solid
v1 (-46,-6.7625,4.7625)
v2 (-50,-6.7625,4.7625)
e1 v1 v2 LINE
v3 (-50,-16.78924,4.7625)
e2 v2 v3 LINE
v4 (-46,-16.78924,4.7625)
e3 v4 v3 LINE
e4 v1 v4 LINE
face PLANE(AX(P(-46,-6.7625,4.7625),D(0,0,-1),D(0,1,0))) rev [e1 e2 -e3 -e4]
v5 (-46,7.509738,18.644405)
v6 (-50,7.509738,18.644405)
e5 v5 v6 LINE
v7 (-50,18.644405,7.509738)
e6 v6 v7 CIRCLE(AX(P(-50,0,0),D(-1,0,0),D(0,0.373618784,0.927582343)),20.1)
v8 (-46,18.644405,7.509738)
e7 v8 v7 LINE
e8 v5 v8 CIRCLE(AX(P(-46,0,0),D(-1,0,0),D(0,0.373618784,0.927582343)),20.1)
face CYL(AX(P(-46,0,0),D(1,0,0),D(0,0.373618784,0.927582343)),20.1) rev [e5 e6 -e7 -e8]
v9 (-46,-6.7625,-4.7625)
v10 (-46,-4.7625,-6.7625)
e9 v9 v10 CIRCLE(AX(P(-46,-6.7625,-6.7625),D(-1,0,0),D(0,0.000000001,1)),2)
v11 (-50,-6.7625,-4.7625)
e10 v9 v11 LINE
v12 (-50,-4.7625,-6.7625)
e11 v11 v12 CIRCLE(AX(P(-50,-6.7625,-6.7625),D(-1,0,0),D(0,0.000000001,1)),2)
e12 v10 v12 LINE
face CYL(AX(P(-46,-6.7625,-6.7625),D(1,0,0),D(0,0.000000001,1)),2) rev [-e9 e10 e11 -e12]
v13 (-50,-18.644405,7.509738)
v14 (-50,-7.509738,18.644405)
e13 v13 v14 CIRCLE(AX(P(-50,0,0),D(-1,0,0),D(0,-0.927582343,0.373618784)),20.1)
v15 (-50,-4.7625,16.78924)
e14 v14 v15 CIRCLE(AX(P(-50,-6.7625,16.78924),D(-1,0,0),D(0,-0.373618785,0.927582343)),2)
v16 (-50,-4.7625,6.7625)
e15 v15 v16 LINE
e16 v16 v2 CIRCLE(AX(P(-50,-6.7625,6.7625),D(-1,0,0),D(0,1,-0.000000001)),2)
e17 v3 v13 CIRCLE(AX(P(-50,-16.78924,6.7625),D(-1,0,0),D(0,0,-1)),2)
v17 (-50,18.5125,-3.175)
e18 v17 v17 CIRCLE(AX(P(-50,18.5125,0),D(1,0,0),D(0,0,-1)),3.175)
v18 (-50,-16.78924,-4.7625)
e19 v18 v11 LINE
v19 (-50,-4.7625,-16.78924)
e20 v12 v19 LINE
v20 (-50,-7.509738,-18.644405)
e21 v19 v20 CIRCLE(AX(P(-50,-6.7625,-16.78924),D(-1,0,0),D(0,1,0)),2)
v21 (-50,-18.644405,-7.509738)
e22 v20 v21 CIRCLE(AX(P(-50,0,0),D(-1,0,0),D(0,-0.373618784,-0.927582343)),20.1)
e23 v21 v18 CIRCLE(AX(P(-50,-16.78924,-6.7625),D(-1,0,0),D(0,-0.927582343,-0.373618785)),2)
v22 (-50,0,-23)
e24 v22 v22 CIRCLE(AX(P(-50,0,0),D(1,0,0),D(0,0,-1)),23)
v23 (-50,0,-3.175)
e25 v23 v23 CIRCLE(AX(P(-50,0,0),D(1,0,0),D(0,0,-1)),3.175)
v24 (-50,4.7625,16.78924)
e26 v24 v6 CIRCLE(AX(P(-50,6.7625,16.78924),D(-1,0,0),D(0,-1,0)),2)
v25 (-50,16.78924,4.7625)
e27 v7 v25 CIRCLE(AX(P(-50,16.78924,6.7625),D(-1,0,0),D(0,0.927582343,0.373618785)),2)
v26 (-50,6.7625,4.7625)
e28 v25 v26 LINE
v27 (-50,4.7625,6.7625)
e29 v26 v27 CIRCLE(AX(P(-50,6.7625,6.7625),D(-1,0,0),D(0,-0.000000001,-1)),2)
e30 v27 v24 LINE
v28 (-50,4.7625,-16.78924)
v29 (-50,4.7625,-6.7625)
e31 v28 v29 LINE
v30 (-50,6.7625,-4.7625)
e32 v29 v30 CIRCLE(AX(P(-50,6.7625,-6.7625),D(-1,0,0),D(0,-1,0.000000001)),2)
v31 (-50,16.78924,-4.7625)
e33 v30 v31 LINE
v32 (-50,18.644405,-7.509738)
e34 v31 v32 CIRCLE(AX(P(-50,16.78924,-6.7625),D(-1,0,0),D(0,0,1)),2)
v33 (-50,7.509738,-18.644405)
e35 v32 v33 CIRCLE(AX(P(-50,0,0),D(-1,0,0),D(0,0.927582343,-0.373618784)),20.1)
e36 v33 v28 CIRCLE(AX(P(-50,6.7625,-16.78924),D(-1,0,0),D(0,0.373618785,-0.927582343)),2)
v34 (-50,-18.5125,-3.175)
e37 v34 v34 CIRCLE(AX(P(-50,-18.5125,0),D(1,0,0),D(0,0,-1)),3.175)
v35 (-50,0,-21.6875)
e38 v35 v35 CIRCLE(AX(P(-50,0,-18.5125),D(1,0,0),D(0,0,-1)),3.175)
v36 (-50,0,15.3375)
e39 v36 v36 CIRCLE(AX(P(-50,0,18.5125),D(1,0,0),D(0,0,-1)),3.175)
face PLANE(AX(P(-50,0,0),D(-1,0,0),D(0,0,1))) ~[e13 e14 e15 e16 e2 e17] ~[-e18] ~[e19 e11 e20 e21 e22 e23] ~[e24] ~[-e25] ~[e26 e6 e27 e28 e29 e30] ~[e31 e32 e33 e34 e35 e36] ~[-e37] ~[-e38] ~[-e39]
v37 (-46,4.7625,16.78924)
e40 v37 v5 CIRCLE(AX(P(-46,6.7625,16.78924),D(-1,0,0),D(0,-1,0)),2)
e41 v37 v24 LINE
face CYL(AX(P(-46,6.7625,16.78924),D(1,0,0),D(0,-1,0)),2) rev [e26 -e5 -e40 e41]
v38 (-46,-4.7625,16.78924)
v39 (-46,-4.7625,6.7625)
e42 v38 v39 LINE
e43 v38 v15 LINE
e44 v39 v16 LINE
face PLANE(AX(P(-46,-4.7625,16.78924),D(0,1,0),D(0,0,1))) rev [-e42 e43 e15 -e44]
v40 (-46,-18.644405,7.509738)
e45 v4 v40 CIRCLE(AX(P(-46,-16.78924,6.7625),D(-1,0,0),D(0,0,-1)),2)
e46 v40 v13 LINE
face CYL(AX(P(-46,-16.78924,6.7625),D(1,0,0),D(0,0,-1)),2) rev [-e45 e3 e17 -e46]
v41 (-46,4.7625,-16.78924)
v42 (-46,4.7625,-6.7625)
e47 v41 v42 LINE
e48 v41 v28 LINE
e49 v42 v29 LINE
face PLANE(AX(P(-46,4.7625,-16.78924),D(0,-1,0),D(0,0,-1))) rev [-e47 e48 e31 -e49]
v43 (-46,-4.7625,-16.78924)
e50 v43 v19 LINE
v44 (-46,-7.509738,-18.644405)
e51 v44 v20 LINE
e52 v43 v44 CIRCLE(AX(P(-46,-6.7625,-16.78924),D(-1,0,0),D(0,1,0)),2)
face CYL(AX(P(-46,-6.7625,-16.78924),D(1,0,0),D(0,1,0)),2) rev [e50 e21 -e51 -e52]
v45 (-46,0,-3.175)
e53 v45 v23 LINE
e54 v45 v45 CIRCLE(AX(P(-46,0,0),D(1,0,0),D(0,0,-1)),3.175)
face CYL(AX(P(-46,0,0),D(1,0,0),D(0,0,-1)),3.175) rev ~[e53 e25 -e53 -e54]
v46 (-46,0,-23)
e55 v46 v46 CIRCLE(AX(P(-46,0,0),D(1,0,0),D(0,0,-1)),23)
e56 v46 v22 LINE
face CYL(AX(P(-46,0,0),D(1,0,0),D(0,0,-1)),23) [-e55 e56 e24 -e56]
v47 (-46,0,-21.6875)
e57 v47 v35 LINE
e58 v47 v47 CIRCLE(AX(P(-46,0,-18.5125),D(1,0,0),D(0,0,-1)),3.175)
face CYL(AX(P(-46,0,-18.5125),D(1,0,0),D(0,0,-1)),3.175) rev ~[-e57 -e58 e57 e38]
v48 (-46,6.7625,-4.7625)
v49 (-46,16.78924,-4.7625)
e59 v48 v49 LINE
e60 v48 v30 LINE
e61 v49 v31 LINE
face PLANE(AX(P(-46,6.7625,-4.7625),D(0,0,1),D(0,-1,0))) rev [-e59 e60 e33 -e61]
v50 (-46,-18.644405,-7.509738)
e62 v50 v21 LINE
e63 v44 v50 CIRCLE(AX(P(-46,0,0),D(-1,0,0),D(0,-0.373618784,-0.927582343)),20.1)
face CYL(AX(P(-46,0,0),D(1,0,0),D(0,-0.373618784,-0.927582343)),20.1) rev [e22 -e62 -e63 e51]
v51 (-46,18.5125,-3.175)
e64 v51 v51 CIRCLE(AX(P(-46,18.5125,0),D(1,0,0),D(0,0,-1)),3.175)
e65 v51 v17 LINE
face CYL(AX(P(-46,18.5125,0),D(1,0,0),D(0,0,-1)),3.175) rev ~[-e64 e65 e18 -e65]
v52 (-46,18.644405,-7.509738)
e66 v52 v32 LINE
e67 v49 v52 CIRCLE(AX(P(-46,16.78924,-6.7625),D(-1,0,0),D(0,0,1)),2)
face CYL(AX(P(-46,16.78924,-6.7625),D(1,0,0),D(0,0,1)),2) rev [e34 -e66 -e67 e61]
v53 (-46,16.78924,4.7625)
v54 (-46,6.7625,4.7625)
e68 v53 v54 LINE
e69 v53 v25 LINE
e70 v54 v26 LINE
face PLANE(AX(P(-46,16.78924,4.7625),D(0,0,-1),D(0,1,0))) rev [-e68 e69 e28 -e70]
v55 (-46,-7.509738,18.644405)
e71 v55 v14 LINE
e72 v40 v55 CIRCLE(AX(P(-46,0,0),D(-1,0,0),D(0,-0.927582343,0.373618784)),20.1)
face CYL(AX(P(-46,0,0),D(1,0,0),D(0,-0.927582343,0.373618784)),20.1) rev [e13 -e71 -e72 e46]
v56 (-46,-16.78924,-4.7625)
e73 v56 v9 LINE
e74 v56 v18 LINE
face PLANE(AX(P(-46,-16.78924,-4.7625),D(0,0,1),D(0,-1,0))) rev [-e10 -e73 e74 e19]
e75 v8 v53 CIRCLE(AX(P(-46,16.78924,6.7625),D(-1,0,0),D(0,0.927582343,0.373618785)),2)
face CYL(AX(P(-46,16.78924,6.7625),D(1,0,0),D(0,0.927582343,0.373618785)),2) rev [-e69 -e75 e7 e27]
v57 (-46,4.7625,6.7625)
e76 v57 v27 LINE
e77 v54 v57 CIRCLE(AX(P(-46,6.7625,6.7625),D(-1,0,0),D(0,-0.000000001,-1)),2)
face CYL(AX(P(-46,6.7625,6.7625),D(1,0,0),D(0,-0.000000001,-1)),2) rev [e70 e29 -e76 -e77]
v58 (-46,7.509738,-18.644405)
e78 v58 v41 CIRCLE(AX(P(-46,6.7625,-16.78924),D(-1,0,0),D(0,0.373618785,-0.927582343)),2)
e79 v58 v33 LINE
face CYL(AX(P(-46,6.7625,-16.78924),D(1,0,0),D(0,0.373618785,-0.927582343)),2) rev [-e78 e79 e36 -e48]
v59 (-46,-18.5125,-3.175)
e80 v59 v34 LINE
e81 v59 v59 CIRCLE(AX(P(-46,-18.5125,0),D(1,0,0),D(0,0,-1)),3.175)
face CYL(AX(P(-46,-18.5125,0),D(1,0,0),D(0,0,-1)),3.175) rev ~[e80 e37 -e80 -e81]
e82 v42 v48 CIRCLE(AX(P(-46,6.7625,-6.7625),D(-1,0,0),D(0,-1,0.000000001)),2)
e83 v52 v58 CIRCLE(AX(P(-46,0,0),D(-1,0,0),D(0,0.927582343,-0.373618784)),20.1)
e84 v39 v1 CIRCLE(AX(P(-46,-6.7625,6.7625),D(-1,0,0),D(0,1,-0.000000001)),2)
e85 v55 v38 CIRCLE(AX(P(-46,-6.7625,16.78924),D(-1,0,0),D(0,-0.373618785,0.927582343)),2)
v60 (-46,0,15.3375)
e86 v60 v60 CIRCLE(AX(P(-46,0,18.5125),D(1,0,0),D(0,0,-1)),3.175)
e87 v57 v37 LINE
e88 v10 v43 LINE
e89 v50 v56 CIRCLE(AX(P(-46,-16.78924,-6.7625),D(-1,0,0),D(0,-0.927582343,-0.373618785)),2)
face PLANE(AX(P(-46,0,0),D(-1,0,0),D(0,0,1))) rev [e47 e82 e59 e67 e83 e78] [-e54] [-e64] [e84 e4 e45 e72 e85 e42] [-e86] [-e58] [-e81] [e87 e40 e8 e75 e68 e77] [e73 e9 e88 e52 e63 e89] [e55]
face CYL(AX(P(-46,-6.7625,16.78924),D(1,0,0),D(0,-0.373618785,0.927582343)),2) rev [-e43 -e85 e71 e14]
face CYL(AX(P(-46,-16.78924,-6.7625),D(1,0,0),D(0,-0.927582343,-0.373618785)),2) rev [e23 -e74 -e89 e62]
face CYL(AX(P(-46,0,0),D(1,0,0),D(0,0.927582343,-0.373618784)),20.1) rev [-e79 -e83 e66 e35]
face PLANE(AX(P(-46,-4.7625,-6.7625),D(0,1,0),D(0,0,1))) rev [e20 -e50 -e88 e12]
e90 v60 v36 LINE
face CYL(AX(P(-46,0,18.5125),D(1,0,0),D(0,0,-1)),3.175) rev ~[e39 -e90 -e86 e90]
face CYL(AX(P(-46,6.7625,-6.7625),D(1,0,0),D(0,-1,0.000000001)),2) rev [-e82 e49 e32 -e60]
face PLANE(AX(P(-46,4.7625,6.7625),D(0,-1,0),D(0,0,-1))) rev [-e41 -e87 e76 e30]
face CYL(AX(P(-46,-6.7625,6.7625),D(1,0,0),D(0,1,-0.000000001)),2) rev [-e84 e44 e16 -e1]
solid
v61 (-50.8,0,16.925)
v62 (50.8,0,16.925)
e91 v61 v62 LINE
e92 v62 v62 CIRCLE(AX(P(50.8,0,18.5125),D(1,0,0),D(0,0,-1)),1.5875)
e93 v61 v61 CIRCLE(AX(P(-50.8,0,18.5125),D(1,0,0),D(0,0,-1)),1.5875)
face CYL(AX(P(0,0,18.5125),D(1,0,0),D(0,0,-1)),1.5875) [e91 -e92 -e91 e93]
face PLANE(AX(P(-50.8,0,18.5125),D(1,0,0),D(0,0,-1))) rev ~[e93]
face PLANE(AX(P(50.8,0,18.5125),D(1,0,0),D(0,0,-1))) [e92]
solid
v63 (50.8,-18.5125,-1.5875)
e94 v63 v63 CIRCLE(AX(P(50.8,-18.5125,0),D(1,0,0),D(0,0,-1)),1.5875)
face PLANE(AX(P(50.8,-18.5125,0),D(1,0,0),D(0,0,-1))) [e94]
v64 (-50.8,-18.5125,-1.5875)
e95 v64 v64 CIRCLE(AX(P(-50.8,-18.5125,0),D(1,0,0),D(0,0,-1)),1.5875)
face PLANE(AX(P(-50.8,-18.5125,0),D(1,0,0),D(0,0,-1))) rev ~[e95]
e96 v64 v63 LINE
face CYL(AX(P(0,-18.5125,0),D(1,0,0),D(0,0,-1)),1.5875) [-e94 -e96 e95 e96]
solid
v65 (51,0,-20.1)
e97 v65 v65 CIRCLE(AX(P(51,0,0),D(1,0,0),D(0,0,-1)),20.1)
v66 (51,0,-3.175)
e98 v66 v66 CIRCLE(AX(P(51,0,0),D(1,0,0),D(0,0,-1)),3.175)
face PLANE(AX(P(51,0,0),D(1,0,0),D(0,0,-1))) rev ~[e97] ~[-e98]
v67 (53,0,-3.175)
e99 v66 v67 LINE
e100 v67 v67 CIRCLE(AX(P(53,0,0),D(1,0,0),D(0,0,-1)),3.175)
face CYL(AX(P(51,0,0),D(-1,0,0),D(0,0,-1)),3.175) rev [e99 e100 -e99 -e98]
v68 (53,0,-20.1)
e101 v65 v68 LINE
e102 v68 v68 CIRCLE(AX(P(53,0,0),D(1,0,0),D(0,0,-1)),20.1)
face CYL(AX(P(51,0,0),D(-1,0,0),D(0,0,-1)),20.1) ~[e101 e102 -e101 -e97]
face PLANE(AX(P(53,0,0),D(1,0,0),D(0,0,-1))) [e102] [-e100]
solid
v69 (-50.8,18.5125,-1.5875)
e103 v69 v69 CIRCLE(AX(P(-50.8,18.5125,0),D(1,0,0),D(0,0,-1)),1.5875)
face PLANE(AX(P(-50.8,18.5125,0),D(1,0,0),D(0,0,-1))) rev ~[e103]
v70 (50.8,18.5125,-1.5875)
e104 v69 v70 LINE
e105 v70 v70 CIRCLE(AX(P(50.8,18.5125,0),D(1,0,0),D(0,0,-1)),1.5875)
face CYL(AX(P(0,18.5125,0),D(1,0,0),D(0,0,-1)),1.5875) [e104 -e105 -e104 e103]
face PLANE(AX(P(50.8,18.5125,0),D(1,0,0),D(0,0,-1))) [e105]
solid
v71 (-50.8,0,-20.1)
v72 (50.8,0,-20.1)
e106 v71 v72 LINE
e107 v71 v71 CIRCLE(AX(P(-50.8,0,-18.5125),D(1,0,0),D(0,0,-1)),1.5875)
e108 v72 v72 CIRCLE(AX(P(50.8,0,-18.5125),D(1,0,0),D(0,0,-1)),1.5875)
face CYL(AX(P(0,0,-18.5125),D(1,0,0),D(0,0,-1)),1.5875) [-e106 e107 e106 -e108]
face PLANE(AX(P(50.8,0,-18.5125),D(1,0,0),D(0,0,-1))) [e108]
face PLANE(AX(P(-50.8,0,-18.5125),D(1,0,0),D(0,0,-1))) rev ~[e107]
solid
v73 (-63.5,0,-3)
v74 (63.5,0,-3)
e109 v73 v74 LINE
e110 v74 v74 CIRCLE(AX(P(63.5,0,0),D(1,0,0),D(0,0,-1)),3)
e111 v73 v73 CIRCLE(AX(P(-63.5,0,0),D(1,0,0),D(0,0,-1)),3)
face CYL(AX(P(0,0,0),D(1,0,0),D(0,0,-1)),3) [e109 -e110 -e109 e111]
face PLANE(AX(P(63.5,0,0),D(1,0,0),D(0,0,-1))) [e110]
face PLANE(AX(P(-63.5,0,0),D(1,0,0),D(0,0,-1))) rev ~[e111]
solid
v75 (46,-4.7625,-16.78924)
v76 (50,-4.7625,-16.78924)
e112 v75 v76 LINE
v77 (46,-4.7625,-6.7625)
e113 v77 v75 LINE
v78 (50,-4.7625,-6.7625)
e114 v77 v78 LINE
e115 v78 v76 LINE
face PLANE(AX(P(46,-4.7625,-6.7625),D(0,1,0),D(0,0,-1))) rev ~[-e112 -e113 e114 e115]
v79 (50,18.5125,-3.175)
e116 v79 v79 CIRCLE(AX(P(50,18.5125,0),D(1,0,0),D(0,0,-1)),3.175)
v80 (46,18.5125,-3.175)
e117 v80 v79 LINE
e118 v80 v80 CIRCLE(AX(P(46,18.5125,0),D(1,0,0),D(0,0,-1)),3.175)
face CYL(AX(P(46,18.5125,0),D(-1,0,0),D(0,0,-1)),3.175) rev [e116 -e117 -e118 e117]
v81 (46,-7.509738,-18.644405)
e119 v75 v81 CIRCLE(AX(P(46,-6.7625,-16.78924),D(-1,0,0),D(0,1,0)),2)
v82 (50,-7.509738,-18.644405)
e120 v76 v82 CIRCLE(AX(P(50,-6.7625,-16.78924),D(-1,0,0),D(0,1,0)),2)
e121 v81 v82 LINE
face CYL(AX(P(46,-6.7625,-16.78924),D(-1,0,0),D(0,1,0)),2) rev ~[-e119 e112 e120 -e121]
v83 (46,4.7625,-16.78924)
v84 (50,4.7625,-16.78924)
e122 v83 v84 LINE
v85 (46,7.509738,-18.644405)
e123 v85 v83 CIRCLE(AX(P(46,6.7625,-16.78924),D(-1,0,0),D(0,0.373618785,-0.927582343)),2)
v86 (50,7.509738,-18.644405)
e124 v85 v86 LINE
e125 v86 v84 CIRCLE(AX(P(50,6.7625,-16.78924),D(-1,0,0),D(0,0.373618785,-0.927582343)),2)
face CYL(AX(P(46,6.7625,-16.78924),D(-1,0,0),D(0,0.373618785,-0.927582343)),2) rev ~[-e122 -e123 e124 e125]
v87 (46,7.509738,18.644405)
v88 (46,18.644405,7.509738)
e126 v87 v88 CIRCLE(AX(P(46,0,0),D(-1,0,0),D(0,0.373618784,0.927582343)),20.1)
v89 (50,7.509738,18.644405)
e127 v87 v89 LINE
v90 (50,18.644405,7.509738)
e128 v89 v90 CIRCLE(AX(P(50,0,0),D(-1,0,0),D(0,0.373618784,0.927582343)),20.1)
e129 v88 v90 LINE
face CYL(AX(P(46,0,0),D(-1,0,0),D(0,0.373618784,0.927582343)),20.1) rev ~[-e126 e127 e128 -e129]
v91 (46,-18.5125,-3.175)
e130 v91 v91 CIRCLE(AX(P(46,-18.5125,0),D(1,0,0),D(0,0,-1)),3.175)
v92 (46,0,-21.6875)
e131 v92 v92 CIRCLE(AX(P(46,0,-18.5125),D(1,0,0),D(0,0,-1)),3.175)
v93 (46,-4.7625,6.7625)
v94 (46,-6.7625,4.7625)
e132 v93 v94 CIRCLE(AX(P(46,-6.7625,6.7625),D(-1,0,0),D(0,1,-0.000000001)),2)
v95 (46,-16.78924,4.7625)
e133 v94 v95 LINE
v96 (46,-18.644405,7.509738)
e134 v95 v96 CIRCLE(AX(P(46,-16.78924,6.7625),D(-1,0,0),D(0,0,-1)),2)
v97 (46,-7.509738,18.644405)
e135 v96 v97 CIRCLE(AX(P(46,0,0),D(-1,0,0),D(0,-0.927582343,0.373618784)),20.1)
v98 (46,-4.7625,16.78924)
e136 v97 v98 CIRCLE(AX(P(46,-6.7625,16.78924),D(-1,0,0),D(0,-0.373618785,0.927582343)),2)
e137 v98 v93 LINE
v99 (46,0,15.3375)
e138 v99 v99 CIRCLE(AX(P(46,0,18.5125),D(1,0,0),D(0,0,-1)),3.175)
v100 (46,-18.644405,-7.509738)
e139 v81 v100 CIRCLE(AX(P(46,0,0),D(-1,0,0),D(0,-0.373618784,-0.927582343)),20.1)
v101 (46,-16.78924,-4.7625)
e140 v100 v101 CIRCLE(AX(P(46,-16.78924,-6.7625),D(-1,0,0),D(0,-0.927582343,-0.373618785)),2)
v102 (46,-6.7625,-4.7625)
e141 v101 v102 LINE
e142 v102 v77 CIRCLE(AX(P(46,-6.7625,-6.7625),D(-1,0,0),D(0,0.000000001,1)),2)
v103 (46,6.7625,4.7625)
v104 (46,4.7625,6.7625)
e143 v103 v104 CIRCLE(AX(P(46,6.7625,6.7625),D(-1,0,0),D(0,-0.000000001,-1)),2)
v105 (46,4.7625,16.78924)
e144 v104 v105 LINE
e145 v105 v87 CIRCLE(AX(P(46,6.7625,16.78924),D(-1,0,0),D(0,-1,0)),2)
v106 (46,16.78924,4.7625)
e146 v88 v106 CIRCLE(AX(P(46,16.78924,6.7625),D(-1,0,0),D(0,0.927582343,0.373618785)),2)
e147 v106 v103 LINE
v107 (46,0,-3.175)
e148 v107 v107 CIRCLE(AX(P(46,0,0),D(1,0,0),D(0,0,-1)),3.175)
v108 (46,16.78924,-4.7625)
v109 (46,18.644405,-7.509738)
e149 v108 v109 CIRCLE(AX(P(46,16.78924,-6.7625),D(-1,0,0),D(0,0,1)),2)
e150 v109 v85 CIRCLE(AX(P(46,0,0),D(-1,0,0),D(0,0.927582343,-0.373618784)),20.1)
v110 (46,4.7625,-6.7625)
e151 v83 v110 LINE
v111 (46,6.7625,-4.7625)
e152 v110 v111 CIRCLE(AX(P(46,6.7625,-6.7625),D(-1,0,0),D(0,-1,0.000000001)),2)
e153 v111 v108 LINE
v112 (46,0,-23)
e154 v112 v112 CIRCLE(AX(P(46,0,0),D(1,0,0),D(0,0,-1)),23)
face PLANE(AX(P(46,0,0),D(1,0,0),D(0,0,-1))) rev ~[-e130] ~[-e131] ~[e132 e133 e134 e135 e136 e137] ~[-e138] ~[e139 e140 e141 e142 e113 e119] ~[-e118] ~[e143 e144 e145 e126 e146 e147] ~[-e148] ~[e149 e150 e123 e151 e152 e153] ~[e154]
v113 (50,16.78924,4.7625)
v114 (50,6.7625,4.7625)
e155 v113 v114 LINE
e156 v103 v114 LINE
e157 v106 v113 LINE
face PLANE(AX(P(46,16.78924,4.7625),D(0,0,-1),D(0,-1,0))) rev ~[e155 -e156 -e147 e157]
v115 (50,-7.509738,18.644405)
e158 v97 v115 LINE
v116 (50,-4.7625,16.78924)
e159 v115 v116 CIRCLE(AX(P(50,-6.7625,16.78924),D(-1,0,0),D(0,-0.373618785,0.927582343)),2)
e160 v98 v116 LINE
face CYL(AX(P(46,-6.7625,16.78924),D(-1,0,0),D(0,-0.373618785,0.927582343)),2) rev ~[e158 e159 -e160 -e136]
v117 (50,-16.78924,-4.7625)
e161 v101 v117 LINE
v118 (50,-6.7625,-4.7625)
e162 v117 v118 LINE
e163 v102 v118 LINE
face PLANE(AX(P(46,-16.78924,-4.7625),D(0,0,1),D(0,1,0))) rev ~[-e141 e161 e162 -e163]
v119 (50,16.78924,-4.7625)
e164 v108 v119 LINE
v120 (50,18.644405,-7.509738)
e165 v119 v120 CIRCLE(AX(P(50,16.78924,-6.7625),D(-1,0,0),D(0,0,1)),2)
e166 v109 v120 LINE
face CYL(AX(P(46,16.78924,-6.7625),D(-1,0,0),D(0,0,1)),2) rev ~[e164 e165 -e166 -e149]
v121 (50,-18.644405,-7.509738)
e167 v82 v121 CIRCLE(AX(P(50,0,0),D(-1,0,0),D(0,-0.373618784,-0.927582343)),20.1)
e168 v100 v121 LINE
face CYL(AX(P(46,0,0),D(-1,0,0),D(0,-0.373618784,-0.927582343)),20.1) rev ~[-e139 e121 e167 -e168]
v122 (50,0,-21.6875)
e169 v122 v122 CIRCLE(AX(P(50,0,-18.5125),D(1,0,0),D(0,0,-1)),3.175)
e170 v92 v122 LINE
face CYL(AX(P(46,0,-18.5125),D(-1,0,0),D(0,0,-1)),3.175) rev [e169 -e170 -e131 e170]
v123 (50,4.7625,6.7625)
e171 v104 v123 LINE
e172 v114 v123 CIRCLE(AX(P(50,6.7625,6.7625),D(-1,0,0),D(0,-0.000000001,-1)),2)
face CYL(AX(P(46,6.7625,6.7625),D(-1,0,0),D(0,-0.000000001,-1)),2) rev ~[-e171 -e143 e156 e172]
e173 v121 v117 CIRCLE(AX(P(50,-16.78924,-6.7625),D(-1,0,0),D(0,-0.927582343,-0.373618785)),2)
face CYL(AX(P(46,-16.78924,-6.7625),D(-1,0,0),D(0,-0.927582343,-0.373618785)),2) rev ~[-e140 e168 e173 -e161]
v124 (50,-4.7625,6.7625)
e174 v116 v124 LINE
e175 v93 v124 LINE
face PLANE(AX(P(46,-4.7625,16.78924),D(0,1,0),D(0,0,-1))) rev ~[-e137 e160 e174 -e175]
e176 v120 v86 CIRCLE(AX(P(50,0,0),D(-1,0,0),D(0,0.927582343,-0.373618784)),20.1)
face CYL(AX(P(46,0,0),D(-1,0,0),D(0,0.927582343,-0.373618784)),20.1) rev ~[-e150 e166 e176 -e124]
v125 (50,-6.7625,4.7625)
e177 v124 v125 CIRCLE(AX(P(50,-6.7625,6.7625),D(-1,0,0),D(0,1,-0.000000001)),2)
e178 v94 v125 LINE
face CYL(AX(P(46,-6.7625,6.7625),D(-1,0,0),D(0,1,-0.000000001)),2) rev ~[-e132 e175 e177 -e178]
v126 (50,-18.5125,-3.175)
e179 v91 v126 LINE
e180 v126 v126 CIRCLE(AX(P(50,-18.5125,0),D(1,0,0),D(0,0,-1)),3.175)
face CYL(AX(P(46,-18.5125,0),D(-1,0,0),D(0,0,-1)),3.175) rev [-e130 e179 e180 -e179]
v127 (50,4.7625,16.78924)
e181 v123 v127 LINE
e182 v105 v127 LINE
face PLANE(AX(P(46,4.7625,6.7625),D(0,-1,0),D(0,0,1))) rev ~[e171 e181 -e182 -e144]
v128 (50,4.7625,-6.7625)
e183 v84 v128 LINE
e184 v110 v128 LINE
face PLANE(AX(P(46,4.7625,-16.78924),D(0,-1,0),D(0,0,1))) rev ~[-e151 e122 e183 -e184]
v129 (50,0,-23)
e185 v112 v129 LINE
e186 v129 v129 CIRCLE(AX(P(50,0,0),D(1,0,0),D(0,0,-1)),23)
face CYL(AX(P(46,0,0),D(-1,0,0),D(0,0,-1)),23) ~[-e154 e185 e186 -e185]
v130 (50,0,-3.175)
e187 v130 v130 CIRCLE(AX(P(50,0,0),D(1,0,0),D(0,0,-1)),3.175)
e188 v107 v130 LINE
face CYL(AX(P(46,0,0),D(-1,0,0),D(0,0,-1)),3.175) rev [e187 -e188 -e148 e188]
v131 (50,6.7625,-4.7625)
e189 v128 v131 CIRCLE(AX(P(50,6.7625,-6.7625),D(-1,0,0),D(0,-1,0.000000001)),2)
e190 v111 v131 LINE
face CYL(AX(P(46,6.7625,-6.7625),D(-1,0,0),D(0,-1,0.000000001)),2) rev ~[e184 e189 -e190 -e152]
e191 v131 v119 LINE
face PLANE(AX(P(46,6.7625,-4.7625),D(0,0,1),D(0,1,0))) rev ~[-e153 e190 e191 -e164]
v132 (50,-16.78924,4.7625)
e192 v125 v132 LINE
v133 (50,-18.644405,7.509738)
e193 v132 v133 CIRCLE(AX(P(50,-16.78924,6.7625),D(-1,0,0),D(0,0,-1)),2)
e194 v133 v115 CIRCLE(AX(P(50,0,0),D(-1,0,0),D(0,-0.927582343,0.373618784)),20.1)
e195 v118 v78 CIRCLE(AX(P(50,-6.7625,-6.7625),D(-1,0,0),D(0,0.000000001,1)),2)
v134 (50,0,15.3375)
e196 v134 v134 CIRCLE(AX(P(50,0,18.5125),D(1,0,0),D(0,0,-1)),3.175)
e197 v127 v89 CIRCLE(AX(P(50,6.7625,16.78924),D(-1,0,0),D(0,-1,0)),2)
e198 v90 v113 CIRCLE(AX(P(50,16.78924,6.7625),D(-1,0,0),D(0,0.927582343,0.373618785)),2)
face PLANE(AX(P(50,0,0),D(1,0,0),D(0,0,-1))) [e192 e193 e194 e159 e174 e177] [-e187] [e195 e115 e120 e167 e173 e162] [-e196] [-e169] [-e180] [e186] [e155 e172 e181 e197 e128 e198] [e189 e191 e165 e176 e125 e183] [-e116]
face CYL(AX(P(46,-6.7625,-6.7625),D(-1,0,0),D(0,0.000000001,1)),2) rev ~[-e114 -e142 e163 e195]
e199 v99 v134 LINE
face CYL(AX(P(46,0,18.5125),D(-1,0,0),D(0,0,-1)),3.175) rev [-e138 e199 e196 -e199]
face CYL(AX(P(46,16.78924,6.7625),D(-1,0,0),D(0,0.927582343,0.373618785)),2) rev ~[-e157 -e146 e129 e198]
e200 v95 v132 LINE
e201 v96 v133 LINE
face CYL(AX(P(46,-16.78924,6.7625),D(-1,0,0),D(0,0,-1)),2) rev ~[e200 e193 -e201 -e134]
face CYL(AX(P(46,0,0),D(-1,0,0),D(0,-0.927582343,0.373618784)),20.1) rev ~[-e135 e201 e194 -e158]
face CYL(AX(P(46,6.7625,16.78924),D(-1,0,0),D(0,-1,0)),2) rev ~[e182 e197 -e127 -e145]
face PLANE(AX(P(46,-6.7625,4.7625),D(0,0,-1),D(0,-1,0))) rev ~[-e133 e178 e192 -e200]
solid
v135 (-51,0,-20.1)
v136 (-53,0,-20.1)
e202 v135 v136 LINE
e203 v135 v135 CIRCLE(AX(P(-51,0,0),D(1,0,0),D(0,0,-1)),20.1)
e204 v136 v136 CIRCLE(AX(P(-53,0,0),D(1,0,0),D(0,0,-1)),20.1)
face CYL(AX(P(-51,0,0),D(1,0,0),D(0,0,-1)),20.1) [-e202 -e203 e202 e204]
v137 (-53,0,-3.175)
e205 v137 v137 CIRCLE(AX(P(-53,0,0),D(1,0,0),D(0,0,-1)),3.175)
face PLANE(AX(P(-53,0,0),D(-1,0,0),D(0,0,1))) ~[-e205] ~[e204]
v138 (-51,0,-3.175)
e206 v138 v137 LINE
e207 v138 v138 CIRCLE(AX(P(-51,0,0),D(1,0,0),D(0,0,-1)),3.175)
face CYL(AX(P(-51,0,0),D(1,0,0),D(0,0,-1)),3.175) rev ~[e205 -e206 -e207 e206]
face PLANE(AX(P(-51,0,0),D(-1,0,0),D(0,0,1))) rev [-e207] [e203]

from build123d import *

# Parameters (mm, degrees)
SKETCH1_R             = 3
BOSS_EXTRUDE1_DEPTH   = 63.5
SKETCH2_R             = 23
SKETCH2_R_2           = 3.175
BOSS_EXTRUDE2_DEPTH   = 4
SKETCH3_R             = 20.1
SKETCH3_R_2           = 3.175
BOSS_EXTRUDE3_DEPTH   = 2
SKETCH4_R             = 1.5875
BOSS_EXTRUDE4_DEPTH   = 50.8
BOSS_EXTRUDE4_2_DEPTH = 50.8
BOSS_EXTRUDE4_3_DEPTH = 50.8
BOSS_EXTRUDE4_4_DEPTH = 50.8


with BuildPart() as part:
    # Sketch1 → Boss-Extrude1 (new, symmetric)
    with BuildSketch(Plane(origin=(0, 0, 0), x_dir=(0, 0, -1), z_dir=(1, 0, 0))):
        Circle(SKETCH1_R)
    extrude(amount=BOSS_EXTRUDE1_DEPTH, both=True)


with BuildPart() as body_2:
    # Sketch2 → Boss-Extrude2 (new body)
    with BuildSketch(Plane(origin=(46, 0, 0), x_dir=(0, 0, -1), z_dir=(1, 0, 0))):
        Circle(SKETCH2_R)
        Circle(SKETCH2_R_2, mode=Mode.SUBTRACT)
        with Locations((0, 18.5125)):
            Circle(SKETCH2_R_2, mode=Mode.SUBTRACT)
        with Locations((-18.5125, 0)):
            Circle(SKETCH2_R_2, mode=Mode.SUBTRACT)
        with Locations((0, -18.5125)):
            Circle(SKETCH2_R_2, mode=Mode.SUBTRACT)
        with Locations((18.5125, 0)):
            Circle(SKETCH2_R_2, mode=Mode.SUBTRACT)
        with BuildLine():
            Line((4.7625, 6.7625), (4.7625, 16.789240416))
            ThreePointArc((4.7625, 16.789240416), (5.643231296, 18.446719698), (7.509737569, 18.644405103))
            ThreePointArc((7.509737569, 18.644405103), (14.212846302, 14.212846302), (18.644405103, 7.509737569))
            ThreePointArc((18.644405103, 7.509737569), (18.446719698, 5.643231296), (16.789240416, 4.7625))
            Line((16.789240416, 4.7625), (6.7625, 4.7625))
            ThreePointArc((6.7625, 4.7625), (5.348286438, 5.348286438), (4.7625, 6.7625))
        make_face(mode=Mode.SUBTRACT)
        with BuildLine():
            Line((6.7625, -4.7625), (16.789240416, -4.7625))
            ThreePointArc((16.789240416, -4.7625), (18.446719698, -5.643231296), (18.644405103, -7.509737569))
            ThreePointArc((18.644405103, -7.509737569), (14.212846302, -14.212846302), (7.509737569, -18.644405103))
            ThreePointArc((7.509737569, -18.644405103), (5.643231296, -18.446719698), (4.7625, -16.789240416))
            Line((4.7625, -16.789240416), (4.7625, -6.7625))
            ThreePointArc((4.7625, -6.7625), (5.348286438, -5.348286438), (6.7625, -4.7625))
        make_face(mode=Mode.SUBTRACT)
        with BuildLine():
            Line((-4.7625, -6.7625), (-4.7625, -16.789240416))
            ThreePointArc((-4.7625, -16.789240416), (-5.643231296, -18.446719698), (-7.509737569, -18.644405103))
            ThreePointArc((-7.509737569, -18.644405103), (-14.212846302, -14.212846302), (-18.644405103, -7.509737569))
            ThreePointArc((-18.644405103, -7.509737569), (-18.446719698, -5.643231296), (-16.789240416, -4.7625))
            Line((-16.789240416, -4.7625), (-6.7625, -4.7625))
            ThreePointArc((-6.7625, -4.7625), (-5.348286438, -5.348286438), (-4.7625, -6.7625))
        make_face(mode=Mode.SUBTRACT)
        with BuildLine():
            Line((-6.7625, 4.7625), (-16.789240416, 4.7625))
            ThreePointArc((-16.789240416, 4.7625), (-18.446719698, 5.643231296), (-18.644405103, 7.509737569))
            ThreePointArc((-18.644405103, 7.509737569), (-14.212846302, 14.212846302), (-7.509737569, 18.644405103))
            ThreePointArc((-7.509737569, 18.644405103), (-5.643231296, 18.446719698), (-4.7625, 16.789240416))
            Line((-4.7625, 16.789240416), (-4.7625, 6.7625))
            ThreePointArc((-4.7625, 6.7625), (-5.348286438, 5.348286438), (-6.7625, 4.7625))
        make_face(mode=Mode.SUBTRACT)
    extrude(amount=BOSS_EXTRUDE2_DEPTH)


with BuildPart() as body_3:
    # Sketch3 → Boss-Extrude3 (new body)
    with BuildSketch(Plane(origin=(51, 0, 0), x_dir=(0, 0, -1), z_dir=(1, 0, 0))):
        Circle(SKETCH3_R)
        Circle(SKETCH3_R_2, mode=Mode.SUBTRACT)
    extrude(amount=BOSS_EXTRUDE3_DEPTH)


with BuildPart() as body_4:
    # Sketch4 → Boss-Extrude4 (new, symmetric)
    with BuildSketch(Plane(origin=(0, 0, 0), x_dir=(0, 0, -1), z_dir=(1, 0, 0))):
        with Locations((0, 18.5125)):
            Circle(SKETCH4_R)
    extrude(amount=BOSS_EXTRUDE4_DEPTH, both=True)


with BuildPart() as body_5:
    # Sketch4 → Boss-Extrude4 2 (new, symmetric)
    with BuildSketch(Plane(origin=(0, 0, 0), x_dir=(0, 0, -1), z_dir=(1, 0, 0))):
        with Locations((-18.5125, 0)):
            Circle(SKETCH4_R)
    extrude(amount=BOSS_EXTRUDE4_2_DEPTH, both=True)


with BuildPart() as body_6:
    # Sketch4 → Boss-Extrude4 3 (new, symmetric)
    with BuildSketch(Plane(origin=(0, 0, 0), x_dir=(0, 0, -1), z_dir=(1, 0, 0))):
        with Locations((18.5125, 0)):
            Circle(SKETCH4_R)
    extrude(amount=BOSS_EXTRUDE4_3_DEPTH, both=True)


with BuildPart() as body_7:
    # Sketch4 → Boss-Extrude4 4 (new, symmetric)
    with BuildSketch(Plane(origin=(0, 0, 0), x_dir=(0, 0, -1), z_dir=(1, 0, 0))):
        with Locations((0, -18.5125)):
            Circle(SKETCH4_R)
    extrude(amount=BOSS_EXTRUDE4_4_DEPTH, both=True)


with BuildPart() as body_8:
    # Mirror5: mirrored copy
    add(body_3.part.mirror(Plane(origin=(0, 0, 0), x_dir=(0, 0, 1), z_dir=(1, 0, 0))))


with BuildPart() as body_9:
    # Mirror5 2: mirrored copy
    add(body_2.part.mirror(Plane(origin=(0, 0, 0), x_dir=(0, 0, 1), z_dir=(1, 0, 0))))


solid = Compound([part.part, body_2.part, body_3.part, body_4.part, body_5.part, body_6.part, body_7.part, body_8.part, body_9.part])
